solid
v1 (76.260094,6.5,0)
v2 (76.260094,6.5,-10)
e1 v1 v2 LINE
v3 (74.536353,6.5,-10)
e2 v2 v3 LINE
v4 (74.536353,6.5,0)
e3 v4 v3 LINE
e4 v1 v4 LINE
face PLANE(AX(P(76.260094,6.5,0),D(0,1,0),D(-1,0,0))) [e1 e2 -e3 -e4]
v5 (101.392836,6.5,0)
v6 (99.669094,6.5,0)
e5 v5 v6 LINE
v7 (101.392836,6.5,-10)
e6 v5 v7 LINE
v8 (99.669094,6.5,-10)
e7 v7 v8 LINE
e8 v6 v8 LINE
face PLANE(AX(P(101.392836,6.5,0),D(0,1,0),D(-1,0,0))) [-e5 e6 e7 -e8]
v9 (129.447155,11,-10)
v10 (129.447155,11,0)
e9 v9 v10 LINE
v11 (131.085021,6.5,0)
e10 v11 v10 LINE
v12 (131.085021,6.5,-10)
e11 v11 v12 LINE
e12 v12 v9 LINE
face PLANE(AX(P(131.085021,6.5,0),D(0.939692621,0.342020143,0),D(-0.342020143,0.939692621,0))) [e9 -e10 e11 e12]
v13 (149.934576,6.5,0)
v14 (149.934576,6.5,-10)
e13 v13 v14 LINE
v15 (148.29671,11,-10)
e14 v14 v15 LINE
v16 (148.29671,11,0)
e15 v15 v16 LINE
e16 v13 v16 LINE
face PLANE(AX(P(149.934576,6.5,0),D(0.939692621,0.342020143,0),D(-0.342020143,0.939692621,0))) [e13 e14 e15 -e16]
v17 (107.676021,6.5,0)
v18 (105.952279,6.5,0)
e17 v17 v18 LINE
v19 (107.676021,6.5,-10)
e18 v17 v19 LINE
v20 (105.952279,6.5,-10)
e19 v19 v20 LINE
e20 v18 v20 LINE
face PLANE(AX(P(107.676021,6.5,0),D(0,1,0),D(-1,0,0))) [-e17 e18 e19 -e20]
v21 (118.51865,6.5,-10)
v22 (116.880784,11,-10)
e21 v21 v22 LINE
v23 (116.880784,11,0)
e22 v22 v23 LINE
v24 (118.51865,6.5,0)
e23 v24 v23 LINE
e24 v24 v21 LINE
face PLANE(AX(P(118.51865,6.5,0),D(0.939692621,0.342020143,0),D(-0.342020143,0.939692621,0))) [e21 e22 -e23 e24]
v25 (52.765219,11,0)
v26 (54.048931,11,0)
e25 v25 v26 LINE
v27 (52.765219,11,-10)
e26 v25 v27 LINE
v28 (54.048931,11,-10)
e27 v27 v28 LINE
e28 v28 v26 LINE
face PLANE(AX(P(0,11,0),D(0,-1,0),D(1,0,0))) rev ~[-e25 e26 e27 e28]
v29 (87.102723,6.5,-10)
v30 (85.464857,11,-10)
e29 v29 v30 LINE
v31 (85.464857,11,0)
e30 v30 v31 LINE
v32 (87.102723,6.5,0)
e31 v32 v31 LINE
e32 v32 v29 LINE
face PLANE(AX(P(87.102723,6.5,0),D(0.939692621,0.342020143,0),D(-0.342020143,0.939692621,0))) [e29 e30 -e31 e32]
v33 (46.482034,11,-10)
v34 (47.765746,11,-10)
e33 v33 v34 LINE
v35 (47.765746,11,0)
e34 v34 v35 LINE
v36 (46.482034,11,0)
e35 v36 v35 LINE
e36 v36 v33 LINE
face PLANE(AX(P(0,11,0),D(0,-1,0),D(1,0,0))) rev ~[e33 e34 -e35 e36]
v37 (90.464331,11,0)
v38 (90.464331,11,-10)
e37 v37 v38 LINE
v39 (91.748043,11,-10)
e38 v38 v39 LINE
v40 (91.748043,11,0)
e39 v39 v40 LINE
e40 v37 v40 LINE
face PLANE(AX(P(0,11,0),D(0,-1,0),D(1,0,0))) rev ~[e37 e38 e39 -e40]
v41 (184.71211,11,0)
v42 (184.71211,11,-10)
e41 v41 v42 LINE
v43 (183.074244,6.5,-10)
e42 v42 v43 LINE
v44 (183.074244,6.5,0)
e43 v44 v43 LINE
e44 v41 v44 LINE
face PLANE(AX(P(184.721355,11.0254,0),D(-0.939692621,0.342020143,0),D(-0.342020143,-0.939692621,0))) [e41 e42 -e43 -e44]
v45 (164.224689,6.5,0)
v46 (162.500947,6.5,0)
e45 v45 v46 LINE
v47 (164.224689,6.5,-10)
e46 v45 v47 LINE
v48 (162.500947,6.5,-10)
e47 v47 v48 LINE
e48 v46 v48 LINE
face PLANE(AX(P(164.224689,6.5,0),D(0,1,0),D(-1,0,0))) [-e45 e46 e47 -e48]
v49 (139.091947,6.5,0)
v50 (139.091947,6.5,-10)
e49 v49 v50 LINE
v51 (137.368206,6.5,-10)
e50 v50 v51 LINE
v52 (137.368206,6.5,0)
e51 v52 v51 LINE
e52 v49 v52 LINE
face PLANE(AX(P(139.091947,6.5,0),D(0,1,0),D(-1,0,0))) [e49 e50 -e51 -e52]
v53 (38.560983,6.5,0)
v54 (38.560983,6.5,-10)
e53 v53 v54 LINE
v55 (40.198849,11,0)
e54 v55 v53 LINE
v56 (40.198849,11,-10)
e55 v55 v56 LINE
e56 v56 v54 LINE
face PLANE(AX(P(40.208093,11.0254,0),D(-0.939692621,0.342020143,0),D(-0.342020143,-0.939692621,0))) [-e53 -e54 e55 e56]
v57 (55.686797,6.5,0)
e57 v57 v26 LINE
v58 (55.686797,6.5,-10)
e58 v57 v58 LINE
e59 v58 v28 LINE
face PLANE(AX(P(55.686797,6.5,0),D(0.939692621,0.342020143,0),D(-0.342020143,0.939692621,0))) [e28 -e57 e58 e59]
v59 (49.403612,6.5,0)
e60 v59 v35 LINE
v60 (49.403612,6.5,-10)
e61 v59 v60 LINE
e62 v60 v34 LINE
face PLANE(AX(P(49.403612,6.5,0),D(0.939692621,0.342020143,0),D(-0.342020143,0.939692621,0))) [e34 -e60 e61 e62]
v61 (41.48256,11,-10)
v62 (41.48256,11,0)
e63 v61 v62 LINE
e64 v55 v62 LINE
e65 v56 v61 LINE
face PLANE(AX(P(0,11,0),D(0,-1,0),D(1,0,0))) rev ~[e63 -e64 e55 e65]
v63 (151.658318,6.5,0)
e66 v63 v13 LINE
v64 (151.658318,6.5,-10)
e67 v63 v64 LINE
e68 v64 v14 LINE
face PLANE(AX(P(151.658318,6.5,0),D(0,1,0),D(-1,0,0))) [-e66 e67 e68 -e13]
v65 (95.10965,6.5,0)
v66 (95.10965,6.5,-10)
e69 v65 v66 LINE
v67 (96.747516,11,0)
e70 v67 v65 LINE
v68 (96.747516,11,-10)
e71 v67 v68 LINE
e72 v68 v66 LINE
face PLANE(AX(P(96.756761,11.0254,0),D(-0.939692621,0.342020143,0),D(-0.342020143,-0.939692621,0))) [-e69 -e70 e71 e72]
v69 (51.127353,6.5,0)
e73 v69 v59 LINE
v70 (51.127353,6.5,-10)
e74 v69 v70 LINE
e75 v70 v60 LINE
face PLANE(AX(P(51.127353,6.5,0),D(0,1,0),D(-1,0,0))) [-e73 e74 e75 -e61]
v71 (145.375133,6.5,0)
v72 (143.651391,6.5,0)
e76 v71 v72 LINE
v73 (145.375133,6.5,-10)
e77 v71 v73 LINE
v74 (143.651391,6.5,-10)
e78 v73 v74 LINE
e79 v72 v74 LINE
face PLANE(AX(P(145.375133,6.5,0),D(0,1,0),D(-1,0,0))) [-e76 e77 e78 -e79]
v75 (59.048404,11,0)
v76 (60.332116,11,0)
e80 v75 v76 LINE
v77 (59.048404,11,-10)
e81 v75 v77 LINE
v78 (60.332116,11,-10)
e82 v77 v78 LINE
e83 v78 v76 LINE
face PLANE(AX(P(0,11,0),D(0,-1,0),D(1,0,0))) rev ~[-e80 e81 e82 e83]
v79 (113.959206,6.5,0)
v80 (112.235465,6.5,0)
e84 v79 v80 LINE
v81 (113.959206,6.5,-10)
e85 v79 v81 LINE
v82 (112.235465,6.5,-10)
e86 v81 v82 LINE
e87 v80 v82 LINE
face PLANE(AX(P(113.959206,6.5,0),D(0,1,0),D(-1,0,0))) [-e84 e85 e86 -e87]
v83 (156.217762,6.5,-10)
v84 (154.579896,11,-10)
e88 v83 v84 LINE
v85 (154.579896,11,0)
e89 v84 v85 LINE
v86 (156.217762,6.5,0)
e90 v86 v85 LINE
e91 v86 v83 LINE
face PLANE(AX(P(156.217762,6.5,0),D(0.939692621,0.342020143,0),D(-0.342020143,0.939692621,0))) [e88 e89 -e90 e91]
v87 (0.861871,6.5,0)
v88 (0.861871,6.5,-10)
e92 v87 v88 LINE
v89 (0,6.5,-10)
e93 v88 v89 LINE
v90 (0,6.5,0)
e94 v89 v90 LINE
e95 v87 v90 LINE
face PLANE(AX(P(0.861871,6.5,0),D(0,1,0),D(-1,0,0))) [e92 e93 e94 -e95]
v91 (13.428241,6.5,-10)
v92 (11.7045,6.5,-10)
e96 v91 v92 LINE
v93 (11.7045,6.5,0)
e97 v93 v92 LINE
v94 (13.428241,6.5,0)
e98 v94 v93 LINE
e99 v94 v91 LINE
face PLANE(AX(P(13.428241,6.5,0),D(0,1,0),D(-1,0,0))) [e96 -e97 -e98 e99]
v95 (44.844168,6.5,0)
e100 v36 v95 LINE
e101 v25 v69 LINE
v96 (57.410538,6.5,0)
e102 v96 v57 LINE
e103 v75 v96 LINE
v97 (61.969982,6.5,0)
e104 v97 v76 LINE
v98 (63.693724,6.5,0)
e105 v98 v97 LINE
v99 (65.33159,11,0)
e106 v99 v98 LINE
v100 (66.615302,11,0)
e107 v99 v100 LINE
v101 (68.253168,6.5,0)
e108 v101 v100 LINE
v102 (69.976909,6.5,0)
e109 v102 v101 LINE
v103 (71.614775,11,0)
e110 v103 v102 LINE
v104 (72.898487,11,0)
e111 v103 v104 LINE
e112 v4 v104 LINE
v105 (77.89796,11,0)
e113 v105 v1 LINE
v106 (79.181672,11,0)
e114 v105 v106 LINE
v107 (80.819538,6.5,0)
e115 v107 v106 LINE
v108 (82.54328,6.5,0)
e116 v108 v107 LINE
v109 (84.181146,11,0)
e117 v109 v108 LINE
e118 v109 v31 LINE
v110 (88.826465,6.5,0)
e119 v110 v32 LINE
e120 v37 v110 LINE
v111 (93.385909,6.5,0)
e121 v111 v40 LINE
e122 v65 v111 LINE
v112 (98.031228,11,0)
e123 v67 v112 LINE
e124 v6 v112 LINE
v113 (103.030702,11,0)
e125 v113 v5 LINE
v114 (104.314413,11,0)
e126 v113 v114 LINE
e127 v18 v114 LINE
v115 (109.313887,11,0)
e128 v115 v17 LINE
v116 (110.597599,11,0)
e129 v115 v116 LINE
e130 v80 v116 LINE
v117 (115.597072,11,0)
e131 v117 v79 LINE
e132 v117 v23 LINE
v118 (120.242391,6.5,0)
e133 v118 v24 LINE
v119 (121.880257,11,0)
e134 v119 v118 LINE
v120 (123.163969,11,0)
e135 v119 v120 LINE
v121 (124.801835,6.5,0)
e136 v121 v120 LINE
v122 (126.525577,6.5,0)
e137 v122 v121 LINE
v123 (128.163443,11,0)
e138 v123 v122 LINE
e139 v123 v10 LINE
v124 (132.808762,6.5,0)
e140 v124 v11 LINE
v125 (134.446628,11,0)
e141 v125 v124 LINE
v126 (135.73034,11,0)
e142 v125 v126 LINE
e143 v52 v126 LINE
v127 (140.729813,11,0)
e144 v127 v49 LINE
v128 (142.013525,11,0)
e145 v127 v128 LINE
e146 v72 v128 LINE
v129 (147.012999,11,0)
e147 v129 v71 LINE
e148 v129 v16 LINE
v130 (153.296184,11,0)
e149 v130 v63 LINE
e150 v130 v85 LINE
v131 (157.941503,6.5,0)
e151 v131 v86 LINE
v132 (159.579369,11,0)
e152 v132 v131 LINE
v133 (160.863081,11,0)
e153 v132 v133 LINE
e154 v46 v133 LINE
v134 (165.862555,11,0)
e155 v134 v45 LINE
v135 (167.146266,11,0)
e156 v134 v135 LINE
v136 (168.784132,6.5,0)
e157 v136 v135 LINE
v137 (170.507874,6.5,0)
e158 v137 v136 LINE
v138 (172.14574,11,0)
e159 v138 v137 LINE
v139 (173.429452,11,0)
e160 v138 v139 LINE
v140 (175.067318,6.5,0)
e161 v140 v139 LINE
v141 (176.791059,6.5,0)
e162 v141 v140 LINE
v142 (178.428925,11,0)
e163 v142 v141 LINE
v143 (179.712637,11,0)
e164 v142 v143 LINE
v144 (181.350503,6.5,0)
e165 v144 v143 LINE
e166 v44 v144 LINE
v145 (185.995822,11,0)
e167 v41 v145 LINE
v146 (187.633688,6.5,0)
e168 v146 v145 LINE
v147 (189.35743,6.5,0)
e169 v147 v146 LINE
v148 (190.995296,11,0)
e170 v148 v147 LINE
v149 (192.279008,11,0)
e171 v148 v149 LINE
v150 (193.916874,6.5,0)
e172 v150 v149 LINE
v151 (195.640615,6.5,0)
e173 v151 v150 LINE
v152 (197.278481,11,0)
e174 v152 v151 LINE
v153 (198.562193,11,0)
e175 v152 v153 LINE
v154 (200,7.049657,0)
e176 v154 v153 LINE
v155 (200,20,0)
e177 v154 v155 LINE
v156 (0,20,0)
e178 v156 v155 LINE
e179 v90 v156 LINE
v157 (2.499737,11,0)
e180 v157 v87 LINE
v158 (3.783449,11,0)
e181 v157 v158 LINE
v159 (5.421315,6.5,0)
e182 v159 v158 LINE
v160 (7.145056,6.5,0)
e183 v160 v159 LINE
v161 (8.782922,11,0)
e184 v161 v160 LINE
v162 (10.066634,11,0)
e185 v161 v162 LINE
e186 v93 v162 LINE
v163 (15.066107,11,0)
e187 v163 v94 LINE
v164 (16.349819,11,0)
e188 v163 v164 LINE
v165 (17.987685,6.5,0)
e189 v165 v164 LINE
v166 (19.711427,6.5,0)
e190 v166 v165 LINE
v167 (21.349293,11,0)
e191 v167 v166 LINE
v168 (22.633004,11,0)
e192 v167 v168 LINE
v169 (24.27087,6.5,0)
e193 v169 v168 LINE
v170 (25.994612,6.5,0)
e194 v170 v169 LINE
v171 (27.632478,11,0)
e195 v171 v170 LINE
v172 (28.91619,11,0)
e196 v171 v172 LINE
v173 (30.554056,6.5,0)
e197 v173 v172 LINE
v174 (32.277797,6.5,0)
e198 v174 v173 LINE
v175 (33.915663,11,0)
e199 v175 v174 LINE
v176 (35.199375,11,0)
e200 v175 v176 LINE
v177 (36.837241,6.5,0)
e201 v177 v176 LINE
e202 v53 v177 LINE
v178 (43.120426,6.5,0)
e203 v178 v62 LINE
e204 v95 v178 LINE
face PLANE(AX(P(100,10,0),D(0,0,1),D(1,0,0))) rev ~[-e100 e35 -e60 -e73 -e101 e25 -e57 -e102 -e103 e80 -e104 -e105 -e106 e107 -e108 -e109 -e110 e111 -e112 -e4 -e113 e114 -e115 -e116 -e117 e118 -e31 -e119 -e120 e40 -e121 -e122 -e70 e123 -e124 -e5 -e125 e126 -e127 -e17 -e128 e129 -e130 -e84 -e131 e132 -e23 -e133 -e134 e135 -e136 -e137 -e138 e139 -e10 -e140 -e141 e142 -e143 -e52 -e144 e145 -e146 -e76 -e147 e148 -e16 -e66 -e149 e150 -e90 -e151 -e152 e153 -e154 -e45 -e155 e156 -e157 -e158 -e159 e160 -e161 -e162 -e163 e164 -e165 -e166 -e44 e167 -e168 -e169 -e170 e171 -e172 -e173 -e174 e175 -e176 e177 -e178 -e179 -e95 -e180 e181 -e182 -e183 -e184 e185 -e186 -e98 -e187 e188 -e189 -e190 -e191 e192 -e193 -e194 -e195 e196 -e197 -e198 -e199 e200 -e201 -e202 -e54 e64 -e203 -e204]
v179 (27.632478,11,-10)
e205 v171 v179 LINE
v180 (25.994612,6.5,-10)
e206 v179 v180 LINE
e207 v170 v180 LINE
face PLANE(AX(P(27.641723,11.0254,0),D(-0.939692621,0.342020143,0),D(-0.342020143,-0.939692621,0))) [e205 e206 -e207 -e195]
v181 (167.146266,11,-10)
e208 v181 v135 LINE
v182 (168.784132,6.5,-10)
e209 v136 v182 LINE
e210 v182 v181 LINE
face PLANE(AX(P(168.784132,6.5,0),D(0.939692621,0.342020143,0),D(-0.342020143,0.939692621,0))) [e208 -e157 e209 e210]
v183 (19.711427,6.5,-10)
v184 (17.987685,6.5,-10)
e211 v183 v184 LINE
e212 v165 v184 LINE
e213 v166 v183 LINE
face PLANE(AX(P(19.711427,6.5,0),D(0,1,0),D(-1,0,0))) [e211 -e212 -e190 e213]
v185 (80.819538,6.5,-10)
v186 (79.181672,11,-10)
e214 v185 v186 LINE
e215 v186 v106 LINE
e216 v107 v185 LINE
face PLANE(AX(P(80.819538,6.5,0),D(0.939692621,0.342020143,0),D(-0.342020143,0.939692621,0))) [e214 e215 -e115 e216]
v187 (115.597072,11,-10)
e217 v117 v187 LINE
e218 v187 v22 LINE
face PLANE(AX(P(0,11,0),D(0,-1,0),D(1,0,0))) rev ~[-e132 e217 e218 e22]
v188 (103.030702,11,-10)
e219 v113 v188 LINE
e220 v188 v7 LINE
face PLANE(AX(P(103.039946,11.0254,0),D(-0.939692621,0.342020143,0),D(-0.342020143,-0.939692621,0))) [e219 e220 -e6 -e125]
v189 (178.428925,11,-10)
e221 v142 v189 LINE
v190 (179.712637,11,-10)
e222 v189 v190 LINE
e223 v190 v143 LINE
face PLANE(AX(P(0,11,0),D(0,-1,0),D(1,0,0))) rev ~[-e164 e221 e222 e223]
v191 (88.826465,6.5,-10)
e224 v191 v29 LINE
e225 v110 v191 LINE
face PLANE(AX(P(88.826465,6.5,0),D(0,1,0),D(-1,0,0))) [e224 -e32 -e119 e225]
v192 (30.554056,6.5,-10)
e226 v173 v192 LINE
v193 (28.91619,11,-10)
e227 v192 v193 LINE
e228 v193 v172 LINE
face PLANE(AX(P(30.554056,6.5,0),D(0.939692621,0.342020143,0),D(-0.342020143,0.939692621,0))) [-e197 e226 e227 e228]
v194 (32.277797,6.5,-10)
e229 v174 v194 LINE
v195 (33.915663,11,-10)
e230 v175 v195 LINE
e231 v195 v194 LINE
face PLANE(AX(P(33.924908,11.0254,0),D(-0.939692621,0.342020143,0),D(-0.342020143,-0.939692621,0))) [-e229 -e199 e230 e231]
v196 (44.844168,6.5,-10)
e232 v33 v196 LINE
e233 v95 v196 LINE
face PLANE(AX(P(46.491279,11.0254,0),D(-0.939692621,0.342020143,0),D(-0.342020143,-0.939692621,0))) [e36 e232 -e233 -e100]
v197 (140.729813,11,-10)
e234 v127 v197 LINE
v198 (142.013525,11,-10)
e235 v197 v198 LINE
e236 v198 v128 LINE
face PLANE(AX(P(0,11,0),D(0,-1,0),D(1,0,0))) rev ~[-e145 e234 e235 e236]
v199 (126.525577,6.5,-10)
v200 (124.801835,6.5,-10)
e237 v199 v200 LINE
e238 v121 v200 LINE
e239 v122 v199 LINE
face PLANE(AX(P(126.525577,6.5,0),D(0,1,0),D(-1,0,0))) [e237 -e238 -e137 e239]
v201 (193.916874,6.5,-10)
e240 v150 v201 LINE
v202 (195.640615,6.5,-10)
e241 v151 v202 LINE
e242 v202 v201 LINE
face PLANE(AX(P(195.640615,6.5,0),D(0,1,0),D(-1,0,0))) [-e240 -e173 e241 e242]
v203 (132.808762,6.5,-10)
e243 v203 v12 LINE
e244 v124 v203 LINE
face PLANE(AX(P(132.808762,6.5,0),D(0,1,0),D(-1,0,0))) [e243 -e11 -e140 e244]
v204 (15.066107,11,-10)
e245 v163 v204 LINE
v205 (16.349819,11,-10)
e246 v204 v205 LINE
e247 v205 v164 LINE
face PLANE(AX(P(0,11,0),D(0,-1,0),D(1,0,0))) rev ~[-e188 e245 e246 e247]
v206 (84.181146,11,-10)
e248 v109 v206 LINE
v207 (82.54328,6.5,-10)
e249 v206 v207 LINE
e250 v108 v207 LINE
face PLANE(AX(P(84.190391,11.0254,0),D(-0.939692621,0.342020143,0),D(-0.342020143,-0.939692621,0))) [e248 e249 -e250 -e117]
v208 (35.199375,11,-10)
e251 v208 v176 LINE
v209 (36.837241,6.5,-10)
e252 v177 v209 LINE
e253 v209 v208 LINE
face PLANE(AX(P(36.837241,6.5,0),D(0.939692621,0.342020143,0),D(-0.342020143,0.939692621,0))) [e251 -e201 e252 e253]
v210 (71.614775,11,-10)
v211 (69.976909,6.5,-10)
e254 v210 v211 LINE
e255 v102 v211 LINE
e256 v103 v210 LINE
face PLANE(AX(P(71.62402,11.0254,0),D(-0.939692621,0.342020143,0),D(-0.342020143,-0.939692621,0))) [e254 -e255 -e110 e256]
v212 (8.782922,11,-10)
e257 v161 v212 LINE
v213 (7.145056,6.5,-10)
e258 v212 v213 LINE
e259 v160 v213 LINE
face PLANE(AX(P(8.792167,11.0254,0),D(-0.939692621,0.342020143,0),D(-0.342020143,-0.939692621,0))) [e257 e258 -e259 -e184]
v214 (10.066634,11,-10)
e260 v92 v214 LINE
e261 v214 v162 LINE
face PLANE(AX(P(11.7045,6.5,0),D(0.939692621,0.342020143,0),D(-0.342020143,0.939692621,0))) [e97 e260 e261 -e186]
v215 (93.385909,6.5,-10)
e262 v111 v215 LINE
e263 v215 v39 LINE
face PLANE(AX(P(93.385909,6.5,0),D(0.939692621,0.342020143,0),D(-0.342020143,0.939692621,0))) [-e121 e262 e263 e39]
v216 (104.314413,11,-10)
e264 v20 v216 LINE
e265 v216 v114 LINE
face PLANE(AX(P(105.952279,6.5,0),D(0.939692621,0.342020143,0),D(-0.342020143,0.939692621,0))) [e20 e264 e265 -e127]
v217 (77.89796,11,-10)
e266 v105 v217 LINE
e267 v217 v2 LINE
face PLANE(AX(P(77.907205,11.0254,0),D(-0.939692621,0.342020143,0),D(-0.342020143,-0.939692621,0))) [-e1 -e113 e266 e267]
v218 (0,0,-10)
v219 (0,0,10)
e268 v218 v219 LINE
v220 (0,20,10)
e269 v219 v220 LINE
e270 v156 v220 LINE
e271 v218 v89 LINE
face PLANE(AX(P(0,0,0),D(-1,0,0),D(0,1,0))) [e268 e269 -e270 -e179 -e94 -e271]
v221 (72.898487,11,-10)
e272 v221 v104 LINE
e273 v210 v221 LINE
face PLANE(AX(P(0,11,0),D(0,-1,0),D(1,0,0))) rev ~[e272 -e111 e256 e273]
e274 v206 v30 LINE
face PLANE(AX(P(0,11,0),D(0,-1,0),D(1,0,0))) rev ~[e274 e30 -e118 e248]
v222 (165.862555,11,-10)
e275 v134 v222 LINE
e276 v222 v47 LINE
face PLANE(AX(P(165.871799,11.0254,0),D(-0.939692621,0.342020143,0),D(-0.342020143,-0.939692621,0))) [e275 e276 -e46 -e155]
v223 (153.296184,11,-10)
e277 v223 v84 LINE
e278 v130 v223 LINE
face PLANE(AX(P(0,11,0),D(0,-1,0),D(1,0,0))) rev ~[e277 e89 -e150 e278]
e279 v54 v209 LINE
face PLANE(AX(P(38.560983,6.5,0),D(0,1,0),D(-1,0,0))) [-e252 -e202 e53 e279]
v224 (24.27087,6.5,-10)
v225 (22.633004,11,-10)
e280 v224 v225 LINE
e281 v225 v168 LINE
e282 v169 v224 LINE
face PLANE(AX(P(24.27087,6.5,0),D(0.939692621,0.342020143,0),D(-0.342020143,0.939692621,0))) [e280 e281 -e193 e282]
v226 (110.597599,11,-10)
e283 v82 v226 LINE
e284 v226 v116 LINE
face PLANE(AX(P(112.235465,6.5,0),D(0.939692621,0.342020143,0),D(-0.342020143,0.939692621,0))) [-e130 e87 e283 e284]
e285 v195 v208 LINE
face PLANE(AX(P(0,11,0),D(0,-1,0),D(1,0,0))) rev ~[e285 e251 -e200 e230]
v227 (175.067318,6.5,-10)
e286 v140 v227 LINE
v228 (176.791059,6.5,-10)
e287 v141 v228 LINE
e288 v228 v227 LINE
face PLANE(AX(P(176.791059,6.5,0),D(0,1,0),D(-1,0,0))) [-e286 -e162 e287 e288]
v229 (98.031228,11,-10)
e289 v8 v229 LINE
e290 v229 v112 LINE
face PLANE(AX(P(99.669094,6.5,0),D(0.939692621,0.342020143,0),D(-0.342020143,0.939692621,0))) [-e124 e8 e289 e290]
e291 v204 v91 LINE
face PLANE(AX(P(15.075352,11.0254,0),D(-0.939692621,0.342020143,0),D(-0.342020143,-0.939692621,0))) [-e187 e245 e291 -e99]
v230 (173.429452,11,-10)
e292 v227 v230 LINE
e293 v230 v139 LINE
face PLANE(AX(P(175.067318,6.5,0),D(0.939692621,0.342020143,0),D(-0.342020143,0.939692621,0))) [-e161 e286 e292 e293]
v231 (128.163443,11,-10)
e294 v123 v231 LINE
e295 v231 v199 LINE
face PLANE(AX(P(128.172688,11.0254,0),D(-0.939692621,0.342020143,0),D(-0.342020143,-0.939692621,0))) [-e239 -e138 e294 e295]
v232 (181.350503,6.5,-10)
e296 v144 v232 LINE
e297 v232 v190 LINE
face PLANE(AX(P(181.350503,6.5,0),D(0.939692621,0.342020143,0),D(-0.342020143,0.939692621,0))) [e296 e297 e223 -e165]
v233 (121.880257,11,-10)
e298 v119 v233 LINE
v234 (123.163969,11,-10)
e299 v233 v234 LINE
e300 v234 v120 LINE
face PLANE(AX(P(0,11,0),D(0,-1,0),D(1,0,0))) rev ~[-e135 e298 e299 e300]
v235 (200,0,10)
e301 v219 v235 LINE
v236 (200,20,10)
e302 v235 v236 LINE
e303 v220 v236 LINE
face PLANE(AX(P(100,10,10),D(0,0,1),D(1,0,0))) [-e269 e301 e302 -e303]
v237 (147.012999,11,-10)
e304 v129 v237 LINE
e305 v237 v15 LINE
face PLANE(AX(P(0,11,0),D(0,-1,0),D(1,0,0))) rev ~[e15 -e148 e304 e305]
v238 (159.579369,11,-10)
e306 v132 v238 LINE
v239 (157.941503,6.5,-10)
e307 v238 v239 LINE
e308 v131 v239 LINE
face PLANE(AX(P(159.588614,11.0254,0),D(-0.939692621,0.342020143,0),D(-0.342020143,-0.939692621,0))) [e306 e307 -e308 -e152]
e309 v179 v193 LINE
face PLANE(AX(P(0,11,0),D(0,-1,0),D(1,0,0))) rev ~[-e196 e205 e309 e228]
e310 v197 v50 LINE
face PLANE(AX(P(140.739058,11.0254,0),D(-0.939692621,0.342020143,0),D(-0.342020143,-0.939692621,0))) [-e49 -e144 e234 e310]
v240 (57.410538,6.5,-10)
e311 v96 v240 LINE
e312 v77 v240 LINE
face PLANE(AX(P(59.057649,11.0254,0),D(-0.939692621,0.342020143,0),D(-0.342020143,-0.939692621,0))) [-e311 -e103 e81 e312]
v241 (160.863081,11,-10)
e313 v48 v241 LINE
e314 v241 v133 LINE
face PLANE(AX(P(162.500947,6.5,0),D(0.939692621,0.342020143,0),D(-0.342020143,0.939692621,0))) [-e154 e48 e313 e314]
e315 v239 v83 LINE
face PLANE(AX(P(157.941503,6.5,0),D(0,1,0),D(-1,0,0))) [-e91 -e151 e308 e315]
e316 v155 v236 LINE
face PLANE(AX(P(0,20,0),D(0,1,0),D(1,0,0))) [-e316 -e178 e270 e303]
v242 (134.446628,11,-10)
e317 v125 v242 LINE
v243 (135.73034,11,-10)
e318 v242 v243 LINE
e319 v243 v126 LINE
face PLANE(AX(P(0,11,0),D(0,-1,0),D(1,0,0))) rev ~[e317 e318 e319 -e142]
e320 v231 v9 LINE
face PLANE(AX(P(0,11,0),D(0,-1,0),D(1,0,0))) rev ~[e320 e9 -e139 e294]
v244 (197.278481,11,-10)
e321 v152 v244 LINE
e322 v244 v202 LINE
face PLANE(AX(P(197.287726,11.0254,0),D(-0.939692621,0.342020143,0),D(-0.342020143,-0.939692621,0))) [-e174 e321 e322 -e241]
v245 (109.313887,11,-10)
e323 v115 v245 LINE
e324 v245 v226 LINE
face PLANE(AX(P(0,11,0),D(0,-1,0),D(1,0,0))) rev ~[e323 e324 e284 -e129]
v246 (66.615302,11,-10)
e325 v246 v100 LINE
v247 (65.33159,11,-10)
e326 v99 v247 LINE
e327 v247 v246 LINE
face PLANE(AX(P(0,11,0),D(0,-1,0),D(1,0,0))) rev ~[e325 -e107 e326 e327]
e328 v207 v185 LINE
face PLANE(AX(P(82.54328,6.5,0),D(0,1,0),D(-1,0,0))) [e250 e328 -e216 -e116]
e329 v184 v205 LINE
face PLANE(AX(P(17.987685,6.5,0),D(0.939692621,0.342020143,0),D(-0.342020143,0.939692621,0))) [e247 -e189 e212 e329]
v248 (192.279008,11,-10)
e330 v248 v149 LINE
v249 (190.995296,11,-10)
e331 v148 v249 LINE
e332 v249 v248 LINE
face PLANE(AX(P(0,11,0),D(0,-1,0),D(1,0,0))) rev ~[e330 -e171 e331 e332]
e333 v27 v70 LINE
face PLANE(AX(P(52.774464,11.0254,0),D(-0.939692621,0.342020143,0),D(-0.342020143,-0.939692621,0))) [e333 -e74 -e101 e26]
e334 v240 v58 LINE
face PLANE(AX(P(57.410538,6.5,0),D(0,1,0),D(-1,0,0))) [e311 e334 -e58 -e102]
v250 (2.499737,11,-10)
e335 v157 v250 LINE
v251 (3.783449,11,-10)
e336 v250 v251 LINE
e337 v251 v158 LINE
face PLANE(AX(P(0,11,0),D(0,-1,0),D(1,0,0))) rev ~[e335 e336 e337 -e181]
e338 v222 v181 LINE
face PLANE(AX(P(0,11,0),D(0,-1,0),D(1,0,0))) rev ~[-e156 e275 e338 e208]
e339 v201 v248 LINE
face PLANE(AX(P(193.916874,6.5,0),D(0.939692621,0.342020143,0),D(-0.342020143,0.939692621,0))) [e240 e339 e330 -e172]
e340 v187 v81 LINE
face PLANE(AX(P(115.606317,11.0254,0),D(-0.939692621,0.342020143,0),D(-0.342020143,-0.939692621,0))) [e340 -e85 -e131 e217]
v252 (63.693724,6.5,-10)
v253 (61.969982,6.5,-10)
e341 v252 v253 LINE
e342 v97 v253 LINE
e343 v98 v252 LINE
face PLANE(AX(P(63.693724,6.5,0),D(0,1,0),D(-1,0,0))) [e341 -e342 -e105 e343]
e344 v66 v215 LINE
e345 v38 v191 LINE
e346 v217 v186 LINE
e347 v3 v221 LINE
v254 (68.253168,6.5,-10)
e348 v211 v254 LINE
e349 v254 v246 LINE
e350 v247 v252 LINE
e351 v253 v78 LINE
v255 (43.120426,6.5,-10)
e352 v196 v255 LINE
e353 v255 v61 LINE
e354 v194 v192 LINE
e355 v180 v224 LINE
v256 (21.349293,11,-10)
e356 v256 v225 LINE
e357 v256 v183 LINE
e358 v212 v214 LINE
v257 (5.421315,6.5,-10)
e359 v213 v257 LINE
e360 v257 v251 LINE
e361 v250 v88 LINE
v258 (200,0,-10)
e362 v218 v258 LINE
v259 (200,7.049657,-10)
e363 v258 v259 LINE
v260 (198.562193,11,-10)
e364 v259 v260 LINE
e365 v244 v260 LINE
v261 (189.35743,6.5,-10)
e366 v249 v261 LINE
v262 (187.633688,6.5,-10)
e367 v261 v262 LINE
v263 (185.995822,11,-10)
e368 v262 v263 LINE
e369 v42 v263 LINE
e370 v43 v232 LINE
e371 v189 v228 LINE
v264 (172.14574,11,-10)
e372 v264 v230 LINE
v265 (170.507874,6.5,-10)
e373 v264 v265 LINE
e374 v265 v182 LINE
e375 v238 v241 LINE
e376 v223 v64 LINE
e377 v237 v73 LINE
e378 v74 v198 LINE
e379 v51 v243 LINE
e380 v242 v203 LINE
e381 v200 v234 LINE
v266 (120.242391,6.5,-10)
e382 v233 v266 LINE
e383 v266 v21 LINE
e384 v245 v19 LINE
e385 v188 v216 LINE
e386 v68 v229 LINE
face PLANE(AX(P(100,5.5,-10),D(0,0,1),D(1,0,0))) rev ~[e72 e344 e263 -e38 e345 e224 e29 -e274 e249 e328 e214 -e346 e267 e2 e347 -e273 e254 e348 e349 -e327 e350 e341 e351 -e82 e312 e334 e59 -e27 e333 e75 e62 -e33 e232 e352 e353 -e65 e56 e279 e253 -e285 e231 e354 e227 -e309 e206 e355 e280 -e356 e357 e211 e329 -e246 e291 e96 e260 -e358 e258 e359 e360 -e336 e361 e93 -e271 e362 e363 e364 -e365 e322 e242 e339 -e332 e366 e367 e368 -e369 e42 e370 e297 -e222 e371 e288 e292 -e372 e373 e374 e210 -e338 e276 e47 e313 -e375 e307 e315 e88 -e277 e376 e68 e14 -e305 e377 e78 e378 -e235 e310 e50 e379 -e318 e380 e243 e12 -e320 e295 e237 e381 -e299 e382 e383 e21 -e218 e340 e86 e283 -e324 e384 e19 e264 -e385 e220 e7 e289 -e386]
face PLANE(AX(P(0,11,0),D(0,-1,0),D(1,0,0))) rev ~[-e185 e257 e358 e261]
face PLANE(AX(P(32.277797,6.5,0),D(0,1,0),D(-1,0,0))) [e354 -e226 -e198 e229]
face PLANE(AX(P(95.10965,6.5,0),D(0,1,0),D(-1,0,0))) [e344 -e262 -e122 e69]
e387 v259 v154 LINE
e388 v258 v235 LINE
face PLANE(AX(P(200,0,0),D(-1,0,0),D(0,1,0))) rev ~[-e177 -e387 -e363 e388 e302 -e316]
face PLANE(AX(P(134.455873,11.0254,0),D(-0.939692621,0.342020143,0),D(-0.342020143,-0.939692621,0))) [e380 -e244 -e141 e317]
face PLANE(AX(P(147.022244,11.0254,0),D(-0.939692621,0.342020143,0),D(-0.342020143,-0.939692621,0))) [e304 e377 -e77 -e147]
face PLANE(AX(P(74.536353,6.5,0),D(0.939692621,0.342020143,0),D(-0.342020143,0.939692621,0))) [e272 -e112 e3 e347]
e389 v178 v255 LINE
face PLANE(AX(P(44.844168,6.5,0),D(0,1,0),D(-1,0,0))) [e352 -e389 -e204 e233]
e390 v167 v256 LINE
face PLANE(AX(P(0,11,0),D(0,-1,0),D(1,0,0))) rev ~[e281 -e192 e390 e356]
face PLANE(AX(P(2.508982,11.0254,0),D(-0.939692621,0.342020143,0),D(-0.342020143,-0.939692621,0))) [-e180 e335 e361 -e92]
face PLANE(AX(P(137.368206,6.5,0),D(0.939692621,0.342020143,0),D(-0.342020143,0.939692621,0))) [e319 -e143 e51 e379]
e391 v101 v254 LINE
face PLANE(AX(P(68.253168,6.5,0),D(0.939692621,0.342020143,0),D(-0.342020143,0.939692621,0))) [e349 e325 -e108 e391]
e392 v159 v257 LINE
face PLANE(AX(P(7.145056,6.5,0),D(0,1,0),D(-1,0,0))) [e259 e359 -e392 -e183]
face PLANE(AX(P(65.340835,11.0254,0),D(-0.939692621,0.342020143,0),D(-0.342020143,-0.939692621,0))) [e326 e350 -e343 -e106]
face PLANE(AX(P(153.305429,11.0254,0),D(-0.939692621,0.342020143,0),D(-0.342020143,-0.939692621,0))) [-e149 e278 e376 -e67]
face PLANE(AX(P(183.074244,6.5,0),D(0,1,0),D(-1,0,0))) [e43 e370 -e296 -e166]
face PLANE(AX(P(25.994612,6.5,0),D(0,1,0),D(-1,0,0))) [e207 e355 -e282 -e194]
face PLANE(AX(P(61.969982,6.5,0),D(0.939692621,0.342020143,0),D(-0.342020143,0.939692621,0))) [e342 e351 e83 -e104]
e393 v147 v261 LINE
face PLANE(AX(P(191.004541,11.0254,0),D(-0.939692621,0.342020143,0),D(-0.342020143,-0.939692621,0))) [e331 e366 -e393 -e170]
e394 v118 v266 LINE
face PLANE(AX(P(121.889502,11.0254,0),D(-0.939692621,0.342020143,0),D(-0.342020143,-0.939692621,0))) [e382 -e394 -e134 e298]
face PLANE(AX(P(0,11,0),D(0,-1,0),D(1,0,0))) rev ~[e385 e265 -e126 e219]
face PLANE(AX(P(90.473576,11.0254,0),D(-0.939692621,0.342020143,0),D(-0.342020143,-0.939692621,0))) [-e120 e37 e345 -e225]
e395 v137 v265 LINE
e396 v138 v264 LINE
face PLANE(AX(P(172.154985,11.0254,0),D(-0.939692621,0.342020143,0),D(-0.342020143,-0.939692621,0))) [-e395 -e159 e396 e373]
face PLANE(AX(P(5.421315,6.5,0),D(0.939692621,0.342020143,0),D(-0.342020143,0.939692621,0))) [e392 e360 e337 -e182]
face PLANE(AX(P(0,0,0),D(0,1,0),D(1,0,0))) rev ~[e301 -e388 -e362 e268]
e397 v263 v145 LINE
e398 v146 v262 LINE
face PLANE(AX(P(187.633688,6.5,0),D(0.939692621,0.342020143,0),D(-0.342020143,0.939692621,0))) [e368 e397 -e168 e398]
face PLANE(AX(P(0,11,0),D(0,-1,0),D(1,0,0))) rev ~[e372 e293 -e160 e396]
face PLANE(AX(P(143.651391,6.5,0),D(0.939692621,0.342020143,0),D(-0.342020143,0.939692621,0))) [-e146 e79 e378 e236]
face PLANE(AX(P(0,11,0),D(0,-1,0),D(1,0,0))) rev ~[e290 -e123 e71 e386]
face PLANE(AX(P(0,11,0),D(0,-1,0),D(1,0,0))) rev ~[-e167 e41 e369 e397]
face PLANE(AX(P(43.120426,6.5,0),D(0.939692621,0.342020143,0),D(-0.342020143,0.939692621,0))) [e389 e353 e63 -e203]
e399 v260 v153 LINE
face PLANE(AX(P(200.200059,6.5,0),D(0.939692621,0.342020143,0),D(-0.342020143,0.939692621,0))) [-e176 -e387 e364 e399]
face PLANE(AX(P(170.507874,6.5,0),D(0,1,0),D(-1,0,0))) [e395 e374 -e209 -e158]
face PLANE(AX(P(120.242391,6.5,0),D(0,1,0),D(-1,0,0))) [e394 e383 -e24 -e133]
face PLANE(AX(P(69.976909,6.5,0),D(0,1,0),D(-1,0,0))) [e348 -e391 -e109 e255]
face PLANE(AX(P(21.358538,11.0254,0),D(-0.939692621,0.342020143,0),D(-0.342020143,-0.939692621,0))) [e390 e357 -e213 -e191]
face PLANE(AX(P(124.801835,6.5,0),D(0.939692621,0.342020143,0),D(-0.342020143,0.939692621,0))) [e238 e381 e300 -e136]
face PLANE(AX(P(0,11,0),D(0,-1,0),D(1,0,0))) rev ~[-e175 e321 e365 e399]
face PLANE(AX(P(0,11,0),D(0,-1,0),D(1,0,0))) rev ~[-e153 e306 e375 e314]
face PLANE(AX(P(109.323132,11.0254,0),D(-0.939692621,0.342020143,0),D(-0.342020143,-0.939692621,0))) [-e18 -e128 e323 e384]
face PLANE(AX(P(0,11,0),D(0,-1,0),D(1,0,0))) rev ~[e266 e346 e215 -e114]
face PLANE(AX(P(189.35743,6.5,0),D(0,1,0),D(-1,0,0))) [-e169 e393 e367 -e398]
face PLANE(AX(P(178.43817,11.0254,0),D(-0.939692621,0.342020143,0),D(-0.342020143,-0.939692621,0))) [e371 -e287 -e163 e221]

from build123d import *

# Parameters (mm, degrees)
BLANKSKE_W         = 200
BLANKSKE_H         = 11
BLANK_DEPTH        = 10
TOOTHCUTSIM_DEPTH  = 201.55173896
TEETHCUTS_COUNT    = 33
TEETHCUTS_PITCH    = 6.2831853
ESQUISSE2_W        = 200
ESQUISSE2_H        = 20
BOSS_EXTRU_2_DEPTH = 10


with BuildPart() as part:
    # BlankSke → Blank (new body)
    with BuildSketch(Plane.XY):
        with Locations((100, 5.5)):
            Rectangle(BLANKSKE_W, BLANKSKE_H)
    extrude(amount=-BLANK_DEPTH)

    # TooCutSkeSim → ToothCutSim (cut, through all)
    with BuildSketch(Plane.XY):
        Polygon((0.861870739, 6.5), (-0.861870739, 6.5), (-2.508981637, 11.0254), (2.508981637, 11.0254), align=None)
    toothcutsim = extrude(amount=-TOOTHCUTSIM_DEPTH, mode=Mode.SUBTRACT)

    # TeethCuts: ToothCutSim ×33
    with Locations(*[(i * TEETHCUTS_PITCH, 0, 0) for i in range(1, TEETHCUTS_COUNT)]):
        add(toothcutsim, mode=Mode.SUBTRACT)

    # Esquisse2 → Boss.-Extru.2 (add)
    with BuildSketch(Plane.XY):
        with Locations((100, 10)):
            Rectangle(ESQUISSE2_W, ESQUISSE2_H)
    extrude(amount=BOSS_EXTRU_2_DEPTH)


solid = part.part
